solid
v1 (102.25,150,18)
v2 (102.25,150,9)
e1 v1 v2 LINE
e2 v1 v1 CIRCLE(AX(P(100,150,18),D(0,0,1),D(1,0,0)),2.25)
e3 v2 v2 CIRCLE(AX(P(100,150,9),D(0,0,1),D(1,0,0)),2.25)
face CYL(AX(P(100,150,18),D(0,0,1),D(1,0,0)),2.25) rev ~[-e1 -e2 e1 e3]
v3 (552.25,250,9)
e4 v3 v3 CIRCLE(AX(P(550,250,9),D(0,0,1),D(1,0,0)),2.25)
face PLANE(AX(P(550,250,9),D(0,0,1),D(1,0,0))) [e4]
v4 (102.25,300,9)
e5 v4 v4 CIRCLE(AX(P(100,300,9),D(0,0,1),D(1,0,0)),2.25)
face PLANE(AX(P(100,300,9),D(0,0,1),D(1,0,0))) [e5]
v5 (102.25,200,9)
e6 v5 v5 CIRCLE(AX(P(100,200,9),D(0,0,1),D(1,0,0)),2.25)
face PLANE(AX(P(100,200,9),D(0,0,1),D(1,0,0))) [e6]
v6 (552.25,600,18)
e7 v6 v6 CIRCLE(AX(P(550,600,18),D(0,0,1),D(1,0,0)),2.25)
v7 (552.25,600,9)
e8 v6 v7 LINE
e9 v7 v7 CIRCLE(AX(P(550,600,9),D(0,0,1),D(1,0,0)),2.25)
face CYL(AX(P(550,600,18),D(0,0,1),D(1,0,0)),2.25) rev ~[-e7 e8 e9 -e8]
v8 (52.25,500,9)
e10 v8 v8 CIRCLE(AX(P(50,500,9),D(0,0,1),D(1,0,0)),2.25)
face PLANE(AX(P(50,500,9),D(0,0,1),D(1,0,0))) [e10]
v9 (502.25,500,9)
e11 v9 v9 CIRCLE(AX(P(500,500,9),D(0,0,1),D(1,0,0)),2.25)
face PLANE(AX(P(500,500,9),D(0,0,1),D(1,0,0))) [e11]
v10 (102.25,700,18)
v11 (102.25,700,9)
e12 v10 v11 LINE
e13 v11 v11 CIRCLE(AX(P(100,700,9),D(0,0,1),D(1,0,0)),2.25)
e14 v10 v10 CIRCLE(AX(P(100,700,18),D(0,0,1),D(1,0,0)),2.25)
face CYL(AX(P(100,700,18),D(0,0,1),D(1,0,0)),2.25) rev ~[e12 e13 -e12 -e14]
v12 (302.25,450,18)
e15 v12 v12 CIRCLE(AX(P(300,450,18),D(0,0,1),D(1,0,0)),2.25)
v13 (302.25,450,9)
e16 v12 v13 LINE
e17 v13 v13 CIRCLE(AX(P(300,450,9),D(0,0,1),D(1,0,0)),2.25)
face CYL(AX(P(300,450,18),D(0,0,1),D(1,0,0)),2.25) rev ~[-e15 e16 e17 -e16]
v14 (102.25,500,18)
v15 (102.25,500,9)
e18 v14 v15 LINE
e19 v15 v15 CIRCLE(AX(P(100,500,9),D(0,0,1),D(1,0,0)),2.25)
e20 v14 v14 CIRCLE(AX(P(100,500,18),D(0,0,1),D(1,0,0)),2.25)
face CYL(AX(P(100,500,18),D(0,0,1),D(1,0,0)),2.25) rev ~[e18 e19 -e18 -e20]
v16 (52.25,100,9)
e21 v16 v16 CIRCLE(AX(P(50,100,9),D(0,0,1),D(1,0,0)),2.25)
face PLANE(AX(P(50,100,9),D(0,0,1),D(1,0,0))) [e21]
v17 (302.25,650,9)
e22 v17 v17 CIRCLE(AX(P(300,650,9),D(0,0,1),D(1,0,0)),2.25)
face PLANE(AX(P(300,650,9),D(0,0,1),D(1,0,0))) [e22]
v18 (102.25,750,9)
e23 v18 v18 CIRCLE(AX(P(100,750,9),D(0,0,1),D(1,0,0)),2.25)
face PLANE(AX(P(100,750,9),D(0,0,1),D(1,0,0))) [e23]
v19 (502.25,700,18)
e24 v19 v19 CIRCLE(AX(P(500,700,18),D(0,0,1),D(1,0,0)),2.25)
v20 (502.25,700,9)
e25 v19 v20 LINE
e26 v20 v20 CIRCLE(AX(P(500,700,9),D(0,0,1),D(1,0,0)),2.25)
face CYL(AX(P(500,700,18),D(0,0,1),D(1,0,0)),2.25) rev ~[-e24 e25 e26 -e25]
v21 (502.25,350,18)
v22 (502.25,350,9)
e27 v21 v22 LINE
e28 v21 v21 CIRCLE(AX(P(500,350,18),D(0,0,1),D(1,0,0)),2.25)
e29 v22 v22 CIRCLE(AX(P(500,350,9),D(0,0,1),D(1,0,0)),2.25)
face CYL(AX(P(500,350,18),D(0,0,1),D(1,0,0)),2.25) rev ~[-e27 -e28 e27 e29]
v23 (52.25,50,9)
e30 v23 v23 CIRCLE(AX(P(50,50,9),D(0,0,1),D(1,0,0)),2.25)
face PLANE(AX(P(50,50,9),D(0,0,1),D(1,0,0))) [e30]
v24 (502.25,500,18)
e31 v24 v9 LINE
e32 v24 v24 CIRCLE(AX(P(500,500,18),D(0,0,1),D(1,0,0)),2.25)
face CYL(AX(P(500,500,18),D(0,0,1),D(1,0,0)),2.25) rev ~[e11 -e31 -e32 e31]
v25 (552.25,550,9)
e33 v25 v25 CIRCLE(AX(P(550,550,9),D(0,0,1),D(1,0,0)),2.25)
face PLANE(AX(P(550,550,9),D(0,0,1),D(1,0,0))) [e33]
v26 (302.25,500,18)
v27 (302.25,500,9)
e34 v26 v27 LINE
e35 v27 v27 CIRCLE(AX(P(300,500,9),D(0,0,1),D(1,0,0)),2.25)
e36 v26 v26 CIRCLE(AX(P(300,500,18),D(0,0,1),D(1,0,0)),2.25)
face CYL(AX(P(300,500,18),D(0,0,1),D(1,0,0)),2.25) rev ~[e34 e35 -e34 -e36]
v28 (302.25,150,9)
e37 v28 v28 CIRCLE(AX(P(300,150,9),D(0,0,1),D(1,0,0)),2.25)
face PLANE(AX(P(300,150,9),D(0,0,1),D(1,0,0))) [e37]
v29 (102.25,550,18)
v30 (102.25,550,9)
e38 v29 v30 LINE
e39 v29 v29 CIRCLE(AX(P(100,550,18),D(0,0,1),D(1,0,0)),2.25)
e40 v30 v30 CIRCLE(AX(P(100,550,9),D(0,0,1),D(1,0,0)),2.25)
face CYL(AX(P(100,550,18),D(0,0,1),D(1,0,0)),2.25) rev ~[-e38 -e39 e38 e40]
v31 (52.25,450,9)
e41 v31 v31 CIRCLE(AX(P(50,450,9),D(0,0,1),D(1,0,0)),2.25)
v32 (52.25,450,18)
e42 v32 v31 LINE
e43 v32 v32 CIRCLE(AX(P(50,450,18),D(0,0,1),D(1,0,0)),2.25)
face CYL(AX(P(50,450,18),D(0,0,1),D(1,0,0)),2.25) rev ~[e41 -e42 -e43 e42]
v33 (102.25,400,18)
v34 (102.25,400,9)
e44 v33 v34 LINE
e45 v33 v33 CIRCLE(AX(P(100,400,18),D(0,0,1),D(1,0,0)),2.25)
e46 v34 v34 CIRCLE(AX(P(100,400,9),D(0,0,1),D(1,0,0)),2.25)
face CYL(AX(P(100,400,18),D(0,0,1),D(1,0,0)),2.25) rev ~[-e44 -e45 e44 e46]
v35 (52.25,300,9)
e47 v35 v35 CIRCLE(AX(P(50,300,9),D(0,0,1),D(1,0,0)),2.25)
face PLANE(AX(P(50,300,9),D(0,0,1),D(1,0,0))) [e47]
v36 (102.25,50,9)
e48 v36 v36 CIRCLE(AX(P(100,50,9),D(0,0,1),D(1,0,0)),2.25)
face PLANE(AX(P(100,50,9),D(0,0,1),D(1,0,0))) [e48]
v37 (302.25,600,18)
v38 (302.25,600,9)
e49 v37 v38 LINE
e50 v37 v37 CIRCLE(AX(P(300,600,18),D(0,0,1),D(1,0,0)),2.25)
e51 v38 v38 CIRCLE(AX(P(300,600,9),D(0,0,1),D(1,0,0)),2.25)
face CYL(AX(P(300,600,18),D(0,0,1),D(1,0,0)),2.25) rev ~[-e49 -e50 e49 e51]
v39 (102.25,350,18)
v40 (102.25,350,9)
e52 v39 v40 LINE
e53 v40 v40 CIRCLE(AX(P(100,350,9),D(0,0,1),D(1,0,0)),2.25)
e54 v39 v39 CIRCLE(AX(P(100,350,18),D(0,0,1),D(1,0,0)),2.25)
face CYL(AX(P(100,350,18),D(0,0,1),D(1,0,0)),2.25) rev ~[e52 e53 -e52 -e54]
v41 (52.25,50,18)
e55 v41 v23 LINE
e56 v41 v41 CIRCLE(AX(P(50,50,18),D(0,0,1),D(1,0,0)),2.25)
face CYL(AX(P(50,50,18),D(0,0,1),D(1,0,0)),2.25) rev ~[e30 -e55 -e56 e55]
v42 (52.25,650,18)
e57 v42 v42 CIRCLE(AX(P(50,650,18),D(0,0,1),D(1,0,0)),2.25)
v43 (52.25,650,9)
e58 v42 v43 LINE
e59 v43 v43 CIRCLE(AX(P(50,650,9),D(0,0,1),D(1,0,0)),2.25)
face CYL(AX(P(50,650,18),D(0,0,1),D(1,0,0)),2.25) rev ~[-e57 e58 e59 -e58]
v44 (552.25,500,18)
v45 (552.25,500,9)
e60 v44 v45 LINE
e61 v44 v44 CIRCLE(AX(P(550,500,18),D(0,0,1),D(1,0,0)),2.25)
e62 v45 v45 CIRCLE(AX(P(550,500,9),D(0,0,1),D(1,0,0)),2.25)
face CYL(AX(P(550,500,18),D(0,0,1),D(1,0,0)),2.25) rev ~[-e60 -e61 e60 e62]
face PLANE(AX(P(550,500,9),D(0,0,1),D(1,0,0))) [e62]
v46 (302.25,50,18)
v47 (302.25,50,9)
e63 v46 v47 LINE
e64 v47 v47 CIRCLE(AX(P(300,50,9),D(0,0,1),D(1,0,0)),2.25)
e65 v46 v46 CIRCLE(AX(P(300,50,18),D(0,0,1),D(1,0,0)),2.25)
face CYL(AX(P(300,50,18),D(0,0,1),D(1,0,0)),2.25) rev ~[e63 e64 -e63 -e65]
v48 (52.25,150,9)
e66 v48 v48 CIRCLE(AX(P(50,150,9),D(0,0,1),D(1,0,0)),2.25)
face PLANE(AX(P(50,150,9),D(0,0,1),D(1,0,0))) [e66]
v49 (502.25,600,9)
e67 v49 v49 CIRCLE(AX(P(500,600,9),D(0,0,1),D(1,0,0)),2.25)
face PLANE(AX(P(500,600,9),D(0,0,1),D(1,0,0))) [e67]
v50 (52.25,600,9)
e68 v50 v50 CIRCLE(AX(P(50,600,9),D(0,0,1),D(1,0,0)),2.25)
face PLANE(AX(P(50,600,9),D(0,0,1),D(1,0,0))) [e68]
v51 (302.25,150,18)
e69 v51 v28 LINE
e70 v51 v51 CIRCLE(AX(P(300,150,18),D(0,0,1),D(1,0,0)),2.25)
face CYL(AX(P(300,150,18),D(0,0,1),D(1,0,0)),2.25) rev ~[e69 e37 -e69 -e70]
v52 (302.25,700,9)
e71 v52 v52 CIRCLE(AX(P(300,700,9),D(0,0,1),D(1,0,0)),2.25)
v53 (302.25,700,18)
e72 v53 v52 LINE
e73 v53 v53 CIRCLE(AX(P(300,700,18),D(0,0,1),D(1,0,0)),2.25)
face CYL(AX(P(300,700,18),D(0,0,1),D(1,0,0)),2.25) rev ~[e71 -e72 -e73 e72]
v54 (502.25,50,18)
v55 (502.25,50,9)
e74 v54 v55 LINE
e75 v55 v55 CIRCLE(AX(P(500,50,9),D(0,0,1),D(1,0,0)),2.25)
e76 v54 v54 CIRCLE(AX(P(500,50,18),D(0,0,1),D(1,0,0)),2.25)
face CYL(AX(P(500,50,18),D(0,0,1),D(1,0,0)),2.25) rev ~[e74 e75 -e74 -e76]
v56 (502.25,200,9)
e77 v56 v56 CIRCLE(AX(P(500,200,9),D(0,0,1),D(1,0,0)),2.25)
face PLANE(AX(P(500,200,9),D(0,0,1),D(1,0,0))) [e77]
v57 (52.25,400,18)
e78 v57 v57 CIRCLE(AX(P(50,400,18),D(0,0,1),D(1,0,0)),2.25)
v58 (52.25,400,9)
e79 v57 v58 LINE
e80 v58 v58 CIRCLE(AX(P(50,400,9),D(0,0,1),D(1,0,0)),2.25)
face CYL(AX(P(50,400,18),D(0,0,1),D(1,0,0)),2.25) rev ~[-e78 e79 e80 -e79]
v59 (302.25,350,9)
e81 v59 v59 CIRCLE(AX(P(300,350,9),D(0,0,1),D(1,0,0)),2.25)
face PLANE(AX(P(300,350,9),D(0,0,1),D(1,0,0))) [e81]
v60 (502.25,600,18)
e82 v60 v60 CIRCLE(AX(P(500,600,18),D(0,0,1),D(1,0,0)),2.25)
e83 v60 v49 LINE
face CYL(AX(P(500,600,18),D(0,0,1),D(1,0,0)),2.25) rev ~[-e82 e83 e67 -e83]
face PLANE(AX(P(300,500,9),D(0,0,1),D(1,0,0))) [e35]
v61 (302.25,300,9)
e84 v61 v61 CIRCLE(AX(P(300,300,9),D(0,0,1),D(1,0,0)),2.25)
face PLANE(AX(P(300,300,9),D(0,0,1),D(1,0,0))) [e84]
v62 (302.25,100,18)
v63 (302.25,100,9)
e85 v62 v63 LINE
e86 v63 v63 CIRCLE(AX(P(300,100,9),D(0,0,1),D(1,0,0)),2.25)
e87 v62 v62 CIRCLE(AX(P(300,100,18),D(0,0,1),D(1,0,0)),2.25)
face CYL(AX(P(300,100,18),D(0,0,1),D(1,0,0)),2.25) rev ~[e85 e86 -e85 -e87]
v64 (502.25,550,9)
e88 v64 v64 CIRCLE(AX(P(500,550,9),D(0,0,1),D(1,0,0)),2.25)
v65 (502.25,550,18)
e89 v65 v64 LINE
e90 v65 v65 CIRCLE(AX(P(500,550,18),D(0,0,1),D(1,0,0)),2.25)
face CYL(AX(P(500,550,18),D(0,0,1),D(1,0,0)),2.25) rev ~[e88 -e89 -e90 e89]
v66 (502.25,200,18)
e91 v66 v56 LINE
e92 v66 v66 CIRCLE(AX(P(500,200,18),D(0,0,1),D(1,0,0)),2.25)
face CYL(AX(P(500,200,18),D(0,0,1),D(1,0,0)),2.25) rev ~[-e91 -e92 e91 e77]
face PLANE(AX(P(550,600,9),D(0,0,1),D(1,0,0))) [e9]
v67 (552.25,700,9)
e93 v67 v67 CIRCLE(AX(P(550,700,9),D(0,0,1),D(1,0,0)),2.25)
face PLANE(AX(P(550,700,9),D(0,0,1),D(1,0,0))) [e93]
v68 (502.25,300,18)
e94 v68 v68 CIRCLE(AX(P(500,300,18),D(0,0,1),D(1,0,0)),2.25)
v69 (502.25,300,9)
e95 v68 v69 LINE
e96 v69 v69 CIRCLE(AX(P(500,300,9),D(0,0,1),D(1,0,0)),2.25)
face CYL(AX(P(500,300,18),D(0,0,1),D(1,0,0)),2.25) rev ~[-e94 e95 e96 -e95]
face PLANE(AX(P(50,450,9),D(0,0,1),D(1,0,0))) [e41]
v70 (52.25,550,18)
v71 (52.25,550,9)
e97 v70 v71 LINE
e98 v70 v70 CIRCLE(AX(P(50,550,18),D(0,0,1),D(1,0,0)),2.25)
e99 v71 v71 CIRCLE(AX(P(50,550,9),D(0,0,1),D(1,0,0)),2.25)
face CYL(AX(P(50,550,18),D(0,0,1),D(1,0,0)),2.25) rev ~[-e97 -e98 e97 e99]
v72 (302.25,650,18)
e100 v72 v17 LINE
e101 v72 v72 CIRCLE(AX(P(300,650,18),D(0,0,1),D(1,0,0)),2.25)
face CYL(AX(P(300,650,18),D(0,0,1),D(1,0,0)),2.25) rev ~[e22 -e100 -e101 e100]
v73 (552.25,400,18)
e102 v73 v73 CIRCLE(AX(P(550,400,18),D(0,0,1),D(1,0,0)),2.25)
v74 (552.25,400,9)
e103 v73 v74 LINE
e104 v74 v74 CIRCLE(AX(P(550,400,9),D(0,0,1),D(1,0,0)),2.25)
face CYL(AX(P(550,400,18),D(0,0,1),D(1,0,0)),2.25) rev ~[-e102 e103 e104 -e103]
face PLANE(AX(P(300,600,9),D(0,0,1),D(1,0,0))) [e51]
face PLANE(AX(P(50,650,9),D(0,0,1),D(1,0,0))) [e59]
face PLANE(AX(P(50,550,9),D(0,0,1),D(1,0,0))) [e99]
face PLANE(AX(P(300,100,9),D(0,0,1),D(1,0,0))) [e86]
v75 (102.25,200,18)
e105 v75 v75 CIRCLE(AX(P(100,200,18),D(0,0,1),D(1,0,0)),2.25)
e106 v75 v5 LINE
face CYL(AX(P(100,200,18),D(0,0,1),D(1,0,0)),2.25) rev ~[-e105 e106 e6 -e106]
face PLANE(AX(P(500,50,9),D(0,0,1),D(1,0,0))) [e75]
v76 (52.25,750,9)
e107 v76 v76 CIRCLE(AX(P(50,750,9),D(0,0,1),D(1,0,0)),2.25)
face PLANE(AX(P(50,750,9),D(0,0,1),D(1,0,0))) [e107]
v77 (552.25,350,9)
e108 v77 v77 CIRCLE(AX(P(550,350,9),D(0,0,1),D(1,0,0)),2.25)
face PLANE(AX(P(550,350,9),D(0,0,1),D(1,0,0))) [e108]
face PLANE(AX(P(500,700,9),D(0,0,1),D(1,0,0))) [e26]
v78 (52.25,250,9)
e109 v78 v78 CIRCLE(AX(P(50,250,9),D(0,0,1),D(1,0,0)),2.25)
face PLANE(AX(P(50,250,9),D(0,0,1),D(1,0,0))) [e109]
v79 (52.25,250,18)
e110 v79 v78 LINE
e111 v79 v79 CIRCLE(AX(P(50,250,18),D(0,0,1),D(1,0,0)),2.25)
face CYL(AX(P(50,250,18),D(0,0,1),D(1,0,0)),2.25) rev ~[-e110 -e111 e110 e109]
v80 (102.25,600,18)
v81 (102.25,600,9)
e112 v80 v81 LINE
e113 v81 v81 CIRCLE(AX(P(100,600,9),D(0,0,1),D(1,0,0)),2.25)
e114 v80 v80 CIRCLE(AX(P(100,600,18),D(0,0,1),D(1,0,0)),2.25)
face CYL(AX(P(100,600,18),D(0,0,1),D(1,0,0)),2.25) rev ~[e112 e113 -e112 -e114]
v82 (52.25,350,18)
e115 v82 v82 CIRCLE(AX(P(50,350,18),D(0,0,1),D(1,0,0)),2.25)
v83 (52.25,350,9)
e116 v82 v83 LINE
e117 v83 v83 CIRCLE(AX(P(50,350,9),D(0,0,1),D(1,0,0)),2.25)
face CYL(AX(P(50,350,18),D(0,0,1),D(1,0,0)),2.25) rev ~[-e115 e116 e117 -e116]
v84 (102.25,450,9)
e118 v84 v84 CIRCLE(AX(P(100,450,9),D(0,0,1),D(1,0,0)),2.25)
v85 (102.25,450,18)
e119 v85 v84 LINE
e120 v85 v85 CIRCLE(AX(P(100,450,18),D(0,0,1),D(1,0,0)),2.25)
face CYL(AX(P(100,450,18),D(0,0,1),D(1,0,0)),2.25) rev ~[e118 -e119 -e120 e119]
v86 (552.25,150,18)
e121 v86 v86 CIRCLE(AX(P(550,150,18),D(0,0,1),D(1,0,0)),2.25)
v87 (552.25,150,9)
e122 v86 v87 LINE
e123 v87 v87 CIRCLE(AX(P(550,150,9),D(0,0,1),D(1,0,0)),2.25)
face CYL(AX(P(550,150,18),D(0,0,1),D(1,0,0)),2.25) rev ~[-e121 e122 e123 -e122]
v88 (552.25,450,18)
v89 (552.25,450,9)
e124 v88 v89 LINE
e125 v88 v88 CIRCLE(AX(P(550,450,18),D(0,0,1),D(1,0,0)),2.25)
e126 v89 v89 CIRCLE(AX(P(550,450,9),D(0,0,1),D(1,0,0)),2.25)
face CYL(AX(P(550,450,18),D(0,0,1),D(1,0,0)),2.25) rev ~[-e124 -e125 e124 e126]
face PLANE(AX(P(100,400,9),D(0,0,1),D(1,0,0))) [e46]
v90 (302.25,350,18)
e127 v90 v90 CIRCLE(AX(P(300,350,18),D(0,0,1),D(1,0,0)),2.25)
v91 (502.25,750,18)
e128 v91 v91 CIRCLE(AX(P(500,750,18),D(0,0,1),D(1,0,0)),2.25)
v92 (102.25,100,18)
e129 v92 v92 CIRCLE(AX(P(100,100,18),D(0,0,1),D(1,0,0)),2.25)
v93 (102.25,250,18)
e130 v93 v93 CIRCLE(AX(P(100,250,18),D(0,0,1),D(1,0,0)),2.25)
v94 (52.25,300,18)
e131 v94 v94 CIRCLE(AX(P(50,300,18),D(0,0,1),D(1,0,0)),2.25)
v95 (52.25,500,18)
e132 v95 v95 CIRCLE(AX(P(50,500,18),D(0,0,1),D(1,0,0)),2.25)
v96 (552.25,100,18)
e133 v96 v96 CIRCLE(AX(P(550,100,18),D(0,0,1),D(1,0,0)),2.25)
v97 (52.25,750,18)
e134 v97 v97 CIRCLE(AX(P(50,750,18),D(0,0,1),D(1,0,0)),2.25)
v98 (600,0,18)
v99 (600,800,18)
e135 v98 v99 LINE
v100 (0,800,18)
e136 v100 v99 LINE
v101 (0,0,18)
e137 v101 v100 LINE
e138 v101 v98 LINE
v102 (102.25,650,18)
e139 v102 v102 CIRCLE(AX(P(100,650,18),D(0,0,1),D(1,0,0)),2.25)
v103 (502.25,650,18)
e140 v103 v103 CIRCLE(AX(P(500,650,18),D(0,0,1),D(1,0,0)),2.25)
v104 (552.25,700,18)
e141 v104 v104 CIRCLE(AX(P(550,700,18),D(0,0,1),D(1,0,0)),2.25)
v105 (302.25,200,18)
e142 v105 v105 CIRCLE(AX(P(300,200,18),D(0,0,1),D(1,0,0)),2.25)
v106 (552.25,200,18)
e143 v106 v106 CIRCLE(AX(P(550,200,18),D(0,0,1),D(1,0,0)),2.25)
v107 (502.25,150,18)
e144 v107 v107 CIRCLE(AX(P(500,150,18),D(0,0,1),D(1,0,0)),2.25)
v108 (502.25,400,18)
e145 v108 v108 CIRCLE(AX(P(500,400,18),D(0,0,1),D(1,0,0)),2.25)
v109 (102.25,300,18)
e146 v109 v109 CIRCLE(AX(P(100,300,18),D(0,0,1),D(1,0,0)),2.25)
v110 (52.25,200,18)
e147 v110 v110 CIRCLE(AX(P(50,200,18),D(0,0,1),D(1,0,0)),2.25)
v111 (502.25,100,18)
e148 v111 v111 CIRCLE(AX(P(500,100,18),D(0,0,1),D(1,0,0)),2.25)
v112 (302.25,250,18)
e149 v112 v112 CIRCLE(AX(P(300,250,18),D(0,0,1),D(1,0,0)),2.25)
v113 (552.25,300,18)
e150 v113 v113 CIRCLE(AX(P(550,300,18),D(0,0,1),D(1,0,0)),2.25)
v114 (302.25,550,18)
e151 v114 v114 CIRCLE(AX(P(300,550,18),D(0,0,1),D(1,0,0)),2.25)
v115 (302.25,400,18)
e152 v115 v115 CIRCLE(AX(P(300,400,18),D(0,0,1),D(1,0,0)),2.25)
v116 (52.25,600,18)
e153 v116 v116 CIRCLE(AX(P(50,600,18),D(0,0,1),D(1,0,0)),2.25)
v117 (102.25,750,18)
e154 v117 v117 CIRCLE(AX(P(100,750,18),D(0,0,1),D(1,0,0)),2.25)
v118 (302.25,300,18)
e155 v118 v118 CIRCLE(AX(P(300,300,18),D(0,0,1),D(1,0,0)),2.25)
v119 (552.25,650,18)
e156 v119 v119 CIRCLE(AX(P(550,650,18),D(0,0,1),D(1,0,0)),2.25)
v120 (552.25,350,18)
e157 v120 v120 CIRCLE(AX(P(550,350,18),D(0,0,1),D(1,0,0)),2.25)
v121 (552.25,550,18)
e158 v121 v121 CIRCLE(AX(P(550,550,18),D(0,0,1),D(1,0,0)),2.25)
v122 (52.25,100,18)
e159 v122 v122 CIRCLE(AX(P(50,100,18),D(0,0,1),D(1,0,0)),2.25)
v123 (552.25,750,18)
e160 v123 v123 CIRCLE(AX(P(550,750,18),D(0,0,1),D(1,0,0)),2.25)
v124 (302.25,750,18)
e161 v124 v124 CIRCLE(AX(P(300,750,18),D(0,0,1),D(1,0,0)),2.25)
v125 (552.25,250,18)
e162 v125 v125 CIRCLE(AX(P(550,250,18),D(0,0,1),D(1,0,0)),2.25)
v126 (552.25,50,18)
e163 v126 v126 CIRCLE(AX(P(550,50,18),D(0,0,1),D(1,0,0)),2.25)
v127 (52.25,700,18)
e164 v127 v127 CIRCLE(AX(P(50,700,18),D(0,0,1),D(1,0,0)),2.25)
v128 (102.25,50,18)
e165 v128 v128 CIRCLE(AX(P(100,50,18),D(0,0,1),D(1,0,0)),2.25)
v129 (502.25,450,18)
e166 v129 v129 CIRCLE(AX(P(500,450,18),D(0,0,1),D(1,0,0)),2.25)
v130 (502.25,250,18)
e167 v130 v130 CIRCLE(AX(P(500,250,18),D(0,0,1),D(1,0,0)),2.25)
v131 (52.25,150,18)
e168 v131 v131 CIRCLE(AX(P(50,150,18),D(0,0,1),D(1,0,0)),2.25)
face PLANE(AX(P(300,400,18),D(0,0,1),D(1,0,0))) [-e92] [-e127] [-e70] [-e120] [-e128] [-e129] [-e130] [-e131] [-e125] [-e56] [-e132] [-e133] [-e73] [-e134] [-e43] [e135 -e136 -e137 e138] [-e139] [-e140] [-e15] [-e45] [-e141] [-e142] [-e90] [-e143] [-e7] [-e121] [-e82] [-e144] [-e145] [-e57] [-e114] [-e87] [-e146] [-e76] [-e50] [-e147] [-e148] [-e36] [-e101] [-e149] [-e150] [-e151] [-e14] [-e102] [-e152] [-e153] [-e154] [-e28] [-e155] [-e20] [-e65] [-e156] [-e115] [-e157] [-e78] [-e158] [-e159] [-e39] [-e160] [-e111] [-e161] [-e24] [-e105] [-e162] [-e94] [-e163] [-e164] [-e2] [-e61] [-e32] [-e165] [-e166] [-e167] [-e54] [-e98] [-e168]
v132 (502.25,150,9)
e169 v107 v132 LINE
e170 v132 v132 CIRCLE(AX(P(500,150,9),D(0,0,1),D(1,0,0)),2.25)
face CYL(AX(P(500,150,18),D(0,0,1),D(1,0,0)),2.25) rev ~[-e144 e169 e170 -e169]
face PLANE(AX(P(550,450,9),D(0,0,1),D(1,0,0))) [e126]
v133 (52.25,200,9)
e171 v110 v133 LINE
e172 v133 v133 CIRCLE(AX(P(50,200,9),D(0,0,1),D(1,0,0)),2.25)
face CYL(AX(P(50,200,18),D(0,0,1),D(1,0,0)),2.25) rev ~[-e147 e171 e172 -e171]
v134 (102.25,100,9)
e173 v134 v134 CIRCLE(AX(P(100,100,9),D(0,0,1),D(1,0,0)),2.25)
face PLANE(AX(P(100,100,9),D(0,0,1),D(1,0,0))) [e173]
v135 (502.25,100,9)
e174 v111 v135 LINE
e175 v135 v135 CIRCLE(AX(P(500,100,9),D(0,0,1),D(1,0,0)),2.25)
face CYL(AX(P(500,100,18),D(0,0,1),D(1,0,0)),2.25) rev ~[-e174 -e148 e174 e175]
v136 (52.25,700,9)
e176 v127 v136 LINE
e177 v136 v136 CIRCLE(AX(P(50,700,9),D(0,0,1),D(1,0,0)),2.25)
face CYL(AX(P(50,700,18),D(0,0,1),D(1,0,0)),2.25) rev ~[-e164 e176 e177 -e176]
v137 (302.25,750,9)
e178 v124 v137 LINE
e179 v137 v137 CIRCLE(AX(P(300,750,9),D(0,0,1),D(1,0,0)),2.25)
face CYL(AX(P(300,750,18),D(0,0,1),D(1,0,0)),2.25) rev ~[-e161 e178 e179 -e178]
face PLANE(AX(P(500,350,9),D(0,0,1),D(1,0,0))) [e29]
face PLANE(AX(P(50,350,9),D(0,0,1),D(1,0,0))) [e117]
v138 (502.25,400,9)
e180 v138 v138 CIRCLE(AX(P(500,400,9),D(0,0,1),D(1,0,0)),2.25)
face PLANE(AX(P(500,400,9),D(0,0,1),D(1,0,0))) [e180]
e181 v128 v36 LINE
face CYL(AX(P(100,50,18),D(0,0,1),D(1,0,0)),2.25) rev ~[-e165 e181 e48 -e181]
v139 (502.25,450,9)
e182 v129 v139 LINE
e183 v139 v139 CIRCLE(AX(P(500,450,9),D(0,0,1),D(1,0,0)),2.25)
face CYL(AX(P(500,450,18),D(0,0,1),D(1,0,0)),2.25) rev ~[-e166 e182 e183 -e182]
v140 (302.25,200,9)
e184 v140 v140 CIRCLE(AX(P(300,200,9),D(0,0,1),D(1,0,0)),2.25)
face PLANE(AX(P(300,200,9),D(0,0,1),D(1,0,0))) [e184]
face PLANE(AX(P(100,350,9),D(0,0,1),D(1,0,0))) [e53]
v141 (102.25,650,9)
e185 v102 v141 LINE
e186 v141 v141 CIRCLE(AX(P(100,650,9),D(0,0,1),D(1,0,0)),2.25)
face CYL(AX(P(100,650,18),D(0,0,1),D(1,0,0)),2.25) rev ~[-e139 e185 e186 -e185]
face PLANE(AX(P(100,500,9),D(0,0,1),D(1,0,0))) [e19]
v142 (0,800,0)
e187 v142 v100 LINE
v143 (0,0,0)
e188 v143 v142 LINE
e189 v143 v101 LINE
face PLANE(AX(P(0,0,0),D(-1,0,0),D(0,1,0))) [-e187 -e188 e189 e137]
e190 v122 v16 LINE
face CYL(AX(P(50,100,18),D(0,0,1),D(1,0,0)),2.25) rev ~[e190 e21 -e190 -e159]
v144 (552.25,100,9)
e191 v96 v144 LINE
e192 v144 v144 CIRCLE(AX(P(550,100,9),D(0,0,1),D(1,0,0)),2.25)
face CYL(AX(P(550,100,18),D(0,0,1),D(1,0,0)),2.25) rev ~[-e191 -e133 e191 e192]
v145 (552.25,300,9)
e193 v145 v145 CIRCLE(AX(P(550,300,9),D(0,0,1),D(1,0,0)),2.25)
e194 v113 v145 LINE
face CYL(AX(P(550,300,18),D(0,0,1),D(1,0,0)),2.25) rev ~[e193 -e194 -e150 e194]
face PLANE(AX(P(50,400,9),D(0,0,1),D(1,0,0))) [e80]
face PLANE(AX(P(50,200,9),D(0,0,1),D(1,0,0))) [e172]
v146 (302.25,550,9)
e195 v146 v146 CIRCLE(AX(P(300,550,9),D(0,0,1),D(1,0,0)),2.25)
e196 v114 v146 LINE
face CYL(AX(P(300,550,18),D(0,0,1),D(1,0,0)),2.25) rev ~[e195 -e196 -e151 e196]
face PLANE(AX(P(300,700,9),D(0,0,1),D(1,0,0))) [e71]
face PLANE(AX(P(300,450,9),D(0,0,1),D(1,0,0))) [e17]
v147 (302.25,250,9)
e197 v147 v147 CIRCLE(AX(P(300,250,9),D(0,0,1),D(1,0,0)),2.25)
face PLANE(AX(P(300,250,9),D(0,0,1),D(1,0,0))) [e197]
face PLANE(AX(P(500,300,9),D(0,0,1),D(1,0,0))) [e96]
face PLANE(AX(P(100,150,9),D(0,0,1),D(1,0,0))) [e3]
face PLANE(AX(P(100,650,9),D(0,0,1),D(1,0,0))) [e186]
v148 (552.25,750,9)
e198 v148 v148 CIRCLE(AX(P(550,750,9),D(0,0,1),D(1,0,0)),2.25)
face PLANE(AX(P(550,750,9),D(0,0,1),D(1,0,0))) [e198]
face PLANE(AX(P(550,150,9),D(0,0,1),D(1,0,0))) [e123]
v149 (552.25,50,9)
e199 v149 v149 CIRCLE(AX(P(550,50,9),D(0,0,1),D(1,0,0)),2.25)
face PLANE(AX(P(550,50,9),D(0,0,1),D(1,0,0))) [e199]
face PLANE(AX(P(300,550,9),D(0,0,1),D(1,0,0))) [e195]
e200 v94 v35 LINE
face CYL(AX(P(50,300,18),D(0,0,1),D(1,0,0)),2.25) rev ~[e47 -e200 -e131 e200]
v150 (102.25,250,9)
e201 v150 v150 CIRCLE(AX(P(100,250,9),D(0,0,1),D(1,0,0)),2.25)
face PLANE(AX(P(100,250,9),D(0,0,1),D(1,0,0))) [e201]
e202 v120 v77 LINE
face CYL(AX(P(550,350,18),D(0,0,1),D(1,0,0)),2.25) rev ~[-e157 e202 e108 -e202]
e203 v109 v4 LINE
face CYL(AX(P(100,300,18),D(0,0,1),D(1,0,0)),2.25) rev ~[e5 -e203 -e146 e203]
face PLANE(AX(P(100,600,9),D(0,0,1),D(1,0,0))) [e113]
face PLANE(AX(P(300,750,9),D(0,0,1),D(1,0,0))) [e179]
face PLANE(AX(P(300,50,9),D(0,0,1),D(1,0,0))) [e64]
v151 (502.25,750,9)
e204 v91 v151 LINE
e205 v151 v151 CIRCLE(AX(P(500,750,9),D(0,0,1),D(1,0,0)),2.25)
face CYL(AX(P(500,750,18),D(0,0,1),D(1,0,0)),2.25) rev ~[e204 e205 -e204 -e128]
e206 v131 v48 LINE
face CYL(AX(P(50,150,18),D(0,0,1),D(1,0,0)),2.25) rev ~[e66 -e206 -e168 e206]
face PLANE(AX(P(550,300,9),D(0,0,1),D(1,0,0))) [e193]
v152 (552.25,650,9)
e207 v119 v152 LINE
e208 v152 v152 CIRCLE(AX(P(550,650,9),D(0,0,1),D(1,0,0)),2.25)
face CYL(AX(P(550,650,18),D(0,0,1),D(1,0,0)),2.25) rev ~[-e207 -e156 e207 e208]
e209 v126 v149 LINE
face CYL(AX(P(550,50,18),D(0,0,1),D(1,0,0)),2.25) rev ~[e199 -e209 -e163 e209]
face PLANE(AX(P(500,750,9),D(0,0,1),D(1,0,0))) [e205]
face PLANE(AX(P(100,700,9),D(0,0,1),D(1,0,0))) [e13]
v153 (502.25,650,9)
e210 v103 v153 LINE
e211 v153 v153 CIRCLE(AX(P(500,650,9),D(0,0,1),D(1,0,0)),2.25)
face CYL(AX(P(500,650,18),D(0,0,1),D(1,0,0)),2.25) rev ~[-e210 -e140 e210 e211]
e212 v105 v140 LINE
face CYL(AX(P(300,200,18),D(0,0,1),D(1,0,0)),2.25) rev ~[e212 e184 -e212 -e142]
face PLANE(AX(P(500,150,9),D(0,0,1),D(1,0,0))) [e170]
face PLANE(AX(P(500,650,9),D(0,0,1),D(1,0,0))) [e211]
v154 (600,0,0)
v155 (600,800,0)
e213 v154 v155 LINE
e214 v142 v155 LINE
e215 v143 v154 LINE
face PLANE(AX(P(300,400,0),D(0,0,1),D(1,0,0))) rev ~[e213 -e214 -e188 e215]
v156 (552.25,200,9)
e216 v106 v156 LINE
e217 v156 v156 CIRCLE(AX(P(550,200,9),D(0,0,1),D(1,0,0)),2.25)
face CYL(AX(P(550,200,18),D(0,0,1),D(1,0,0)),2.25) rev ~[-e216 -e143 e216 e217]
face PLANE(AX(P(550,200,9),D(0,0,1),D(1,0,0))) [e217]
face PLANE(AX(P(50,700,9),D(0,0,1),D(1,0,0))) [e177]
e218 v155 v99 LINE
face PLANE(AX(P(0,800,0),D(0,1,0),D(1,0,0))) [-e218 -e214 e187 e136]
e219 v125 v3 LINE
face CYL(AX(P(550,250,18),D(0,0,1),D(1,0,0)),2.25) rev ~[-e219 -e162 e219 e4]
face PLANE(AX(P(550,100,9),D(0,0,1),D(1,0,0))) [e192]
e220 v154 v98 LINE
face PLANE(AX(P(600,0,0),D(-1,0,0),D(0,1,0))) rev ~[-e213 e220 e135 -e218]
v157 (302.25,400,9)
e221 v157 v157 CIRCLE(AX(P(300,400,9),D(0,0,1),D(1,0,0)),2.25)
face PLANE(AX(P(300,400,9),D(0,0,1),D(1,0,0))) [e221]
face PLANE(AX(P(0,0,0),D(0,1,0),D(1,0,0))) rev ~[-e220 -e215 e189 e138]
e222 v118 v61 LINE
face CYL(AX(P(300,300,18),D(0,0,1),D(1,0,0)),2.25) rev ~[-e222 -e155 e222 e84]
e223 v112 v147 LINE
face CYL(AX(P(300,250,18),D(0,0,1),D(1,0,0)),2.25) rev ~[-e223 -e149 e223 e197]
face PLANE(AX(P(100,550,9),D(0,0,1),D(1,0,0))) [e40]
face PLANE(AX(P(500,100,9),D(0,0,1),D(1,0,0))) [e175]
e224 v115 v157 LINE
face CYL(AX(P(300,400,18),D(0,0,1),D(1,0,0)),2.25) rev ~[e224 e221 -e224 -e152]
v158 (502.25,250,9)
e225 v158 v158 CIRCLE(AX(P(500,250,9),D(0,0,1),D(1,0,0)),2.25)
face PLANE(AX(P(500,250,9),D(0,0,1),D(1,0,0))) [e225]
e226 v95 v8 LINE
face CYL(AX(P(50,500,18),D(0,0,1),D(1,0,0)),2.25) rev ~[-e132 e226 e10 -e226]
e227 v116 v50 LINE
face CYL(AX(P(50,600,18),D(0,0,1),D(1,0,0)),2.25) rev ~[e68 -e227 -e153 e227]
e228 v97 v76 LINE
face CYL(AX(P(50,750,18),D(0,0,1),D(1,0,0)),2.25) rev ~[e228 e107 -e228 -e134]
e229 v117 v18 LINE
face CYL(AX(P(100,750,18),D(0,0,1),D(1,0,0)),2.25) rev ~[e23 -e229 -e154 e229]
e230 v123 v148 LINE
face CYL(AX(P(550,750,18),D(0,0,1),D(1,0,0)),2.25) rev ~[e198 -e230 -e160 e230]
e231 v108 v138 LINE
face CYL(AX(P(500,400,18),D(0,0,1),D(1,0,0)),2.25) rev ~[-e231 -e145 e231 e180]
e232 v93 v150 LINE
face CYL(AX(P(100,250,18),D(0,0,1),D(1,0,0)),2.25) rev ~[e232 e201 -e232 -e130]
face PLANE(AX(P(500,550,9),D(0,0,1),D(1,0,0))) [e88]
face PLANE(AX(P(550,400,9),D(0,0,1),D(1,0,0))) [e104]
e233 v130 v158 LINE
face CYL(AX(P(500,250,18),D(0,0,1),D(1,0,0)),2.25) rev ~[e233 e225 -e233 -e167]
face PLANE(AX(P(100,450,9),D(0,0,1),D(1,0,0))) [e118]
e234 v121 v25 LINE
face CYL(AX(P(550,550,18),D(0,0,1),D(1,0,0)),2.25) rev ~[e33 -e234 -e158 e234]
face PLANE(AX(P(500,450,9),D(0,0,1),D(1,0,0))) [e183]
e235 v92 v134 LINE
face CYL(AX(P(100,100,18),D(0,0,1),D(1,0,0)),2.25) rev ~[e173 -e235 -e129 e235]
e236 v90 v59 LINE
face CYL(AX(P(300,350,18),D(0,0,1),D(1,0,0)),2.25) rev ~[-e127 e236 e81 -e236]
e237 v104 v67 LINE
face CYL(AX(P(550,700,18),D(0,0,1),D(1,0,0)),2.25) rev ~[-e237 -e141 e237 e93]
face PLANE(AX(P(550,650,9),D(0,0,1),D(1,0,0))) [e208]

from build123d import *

# Parameters (mm, degrees)
SKETCH_1_W          = 600
SKETCH_1_H          = 800
EXTRUDE_1_DEPTH     = 18
SKETCH_2_R          = 2.25
CUT_EXTRUDE_1_DEPTH = 9


with BuildPart() as part:
    # Эскиз1 → Бобышка-Вытянуть1 (new body)
    with BuildSketch(Plane.XY):
        with Locations((300, 400)):
            Rectangle(SKETCH_1_W, SKETCH_1_H)
    extrude(amount=EXTRUDE_1_DEPTH)

    # Эскиз2 → Вырез-Вытянуть1 (cut)
    with BuildSketch(Plane.XY.offset(18)):
        with Locations((550, 50)):
            Circle(SKETCH_2_R)
        with Locations((300, 50)):
            Circle(SKETCH_2_R)
        with Locations((500, 50)):
            Circle(SKETCH_2_R)
        with Locations((100, 50)):
            Circle(SKETCH_2_R)
        with Locations((50, 50)):
            Circle(SKETCH_2_R)
        with Locations((550, 100)):
            Circle(SKETCH_2_R)
        with Locations((300, 100)):
            Circle(SKETCH_2_R)
        with Locations((500, 100)):
            Circle(SKETCH_2_R)
        with Locations((100, 100)):
            Circle(SKETCH_2_R)
        with Locations((50, 100)):
            Circle(SKETCH_2_R)
        with Locations((550, 150)):
            Circle(SKETCH_2_R)
        with Locations((300, 150)):
            Circle(SKETCH_2_R)
        with Locations((500, 150)):
            Circle(SKETCH_2_R)
        with Locations((100, 150)):
            Circle(SKETCH_2_R)
        with Locations((50, 150)):
            Circle(SKETCH_2_R)
        with Locations((550, 200)):
            Circle(SKETCH_2_R)
        with Locations((300, 200)):
            Circle(SKETCH_2_R)
        with Locations((500, 200)):
            Circle(SKETCH_2_R)
        with Locations((100, 200)):
            Circle(SKETCH_2_R)
        with Locations((50, 200)):
            Circle(SKETCH_2_R)
        with Locations((550, 250)):
            Circle(SKETCH_2_R)
        with Locations((300, 250)):
            Circle(SKETCH_2_R)
        with Locations((500, 250)):
            Circle(SKETCH_2_R)
        with Locations((100, 250)):
            Circle(SKETCH_2_R)
        with Locations((50, 250)):
            Circle(SKETCH_2_R)
        with Locations((550, 300)):
            Circle(SKETCH_2_R)
        with Locations((300, 300)):
            Circle(SKETCH_2_R)
        with Locations((500, 300)):
            Circle(SKETCH_2_R)
        with Locations((100, 300)):
            Circle(SKETCH_2_R)
        with Locations((50, 300)):
            Circle(SKETCH_2_R)
        with Locations((550, 350)):
            Circle(SKETCH_2_R)
        with Locations((300, 350)):
            Circle(SKETCH_2_R)
        with Locations((500, 350)):
            Circle(SKETCH_2_R)
        with Locations((100, 350)):
            Circle(SKETCH_2_R)
        with Locations((50, 350)):
            Circle(SKETCH_2_R)
        with Locations((550, 400)):
            Circle(SKETCH_2_R)
        with Locations((300, 400)):
            Circle(SKETCH_2_R)
        with Locations((500, 400)):
            Circle(SKETCH_2_R)
        with Locations((100, 400)):
            Circle(SKETCH_2_R)
        with Locations((50, 400)):
            Circle(SKETCH_2_R)
        with Locations((550, 450)):
            Circle(SKETCH_2_R)
        with Locations((300, 450)):
            Circle(SKETCH_2_R)
        with Locations((500, 450)):
            Circle(SKETCH_2_R)
        with Locations((100, 450)):
            Circle(SKETCH_2_R)
        with Locations((50, 450)):
            Circle(SKETCH_2_R)
        with Locations((550, 500)):
            Circle(SKETCH_2_R)
        with Locations((300, 500)):
            Circle(SKETCH_2_R)
        with Locations((500, 500)):
            Circle(SKETCH_2_R)
        with Locations((100, 500)):
            Circle(SKETCH_2_R)
        with Locations((50, 500)):
            Circle(SKETCH_2_R)
        with Locations((550, 550)):
            Circle(SKETCH_2_R)
        with Locations((300, 550)):
            Circle(SKETCH_2_R)
        with Locations((500, 550)):
            Circle(SKETCH_2_R)
        with Locations((100, 550)):
            Circle(SKETCH_2_R)
        with Locations((50, 550)):
            Circle(SKETCH_2_R)
        with Locations((550, 600)):
            Circle(SKETCH_2_R)
        with Locations((300, 600)):
            Circle(SKETCH_2_R)
        with Locations((500, 600)):
            Circle(SKETCH_2_R)
        with Locations((100, 600)):
            Circle(SKETCH_2_R)
        with Locations((50, 600)):
            Circle(SKETCH_2_R)
        with Locations((550, 650)):
            Circle(SKETCH_2_R)
        with Locations((300, 650)):
            Circle(SKETCH_2_R)
        with Locations((500, 650)):
            Circle(SKETCH_2_R)
        with Locations((100, 650)):
            Circle(SKETCH_2_R)
        with Locations((50, 650)):
            Circle(SKETCH_2_R)
        with Locations((550, 700)):
            Circle(SKETCH_2_R)
        with Locations((300, 700)):
            Circle(SKETCH_2_R)
        with Locations((500, 700)):
            Circle(SKETCH_2_R)
        with Locations((100, 700)):
            Circle(SKETCH_2_R)
        with Locations((50, 700)):
            Circle(SKETCH_2_R)
        with Locations((550, 750)):
            Circle(SKETCH_2_R)
        with Locations((300, 750)):
            Circle(SKETCH_2_R)
        with Locations((500, 750)):
            Circle(SKETCH_2_R)
        with Locations((100, 750)):
            Circle(SKETCH_2_R)
        with Locations((50, 750)):
            Circle(SKETCH_2_R)
    extrude(amount=-CUT_EXTRUDE_1_DEPTH, mode=Mode.SUBTRACT)


solid = part.part
